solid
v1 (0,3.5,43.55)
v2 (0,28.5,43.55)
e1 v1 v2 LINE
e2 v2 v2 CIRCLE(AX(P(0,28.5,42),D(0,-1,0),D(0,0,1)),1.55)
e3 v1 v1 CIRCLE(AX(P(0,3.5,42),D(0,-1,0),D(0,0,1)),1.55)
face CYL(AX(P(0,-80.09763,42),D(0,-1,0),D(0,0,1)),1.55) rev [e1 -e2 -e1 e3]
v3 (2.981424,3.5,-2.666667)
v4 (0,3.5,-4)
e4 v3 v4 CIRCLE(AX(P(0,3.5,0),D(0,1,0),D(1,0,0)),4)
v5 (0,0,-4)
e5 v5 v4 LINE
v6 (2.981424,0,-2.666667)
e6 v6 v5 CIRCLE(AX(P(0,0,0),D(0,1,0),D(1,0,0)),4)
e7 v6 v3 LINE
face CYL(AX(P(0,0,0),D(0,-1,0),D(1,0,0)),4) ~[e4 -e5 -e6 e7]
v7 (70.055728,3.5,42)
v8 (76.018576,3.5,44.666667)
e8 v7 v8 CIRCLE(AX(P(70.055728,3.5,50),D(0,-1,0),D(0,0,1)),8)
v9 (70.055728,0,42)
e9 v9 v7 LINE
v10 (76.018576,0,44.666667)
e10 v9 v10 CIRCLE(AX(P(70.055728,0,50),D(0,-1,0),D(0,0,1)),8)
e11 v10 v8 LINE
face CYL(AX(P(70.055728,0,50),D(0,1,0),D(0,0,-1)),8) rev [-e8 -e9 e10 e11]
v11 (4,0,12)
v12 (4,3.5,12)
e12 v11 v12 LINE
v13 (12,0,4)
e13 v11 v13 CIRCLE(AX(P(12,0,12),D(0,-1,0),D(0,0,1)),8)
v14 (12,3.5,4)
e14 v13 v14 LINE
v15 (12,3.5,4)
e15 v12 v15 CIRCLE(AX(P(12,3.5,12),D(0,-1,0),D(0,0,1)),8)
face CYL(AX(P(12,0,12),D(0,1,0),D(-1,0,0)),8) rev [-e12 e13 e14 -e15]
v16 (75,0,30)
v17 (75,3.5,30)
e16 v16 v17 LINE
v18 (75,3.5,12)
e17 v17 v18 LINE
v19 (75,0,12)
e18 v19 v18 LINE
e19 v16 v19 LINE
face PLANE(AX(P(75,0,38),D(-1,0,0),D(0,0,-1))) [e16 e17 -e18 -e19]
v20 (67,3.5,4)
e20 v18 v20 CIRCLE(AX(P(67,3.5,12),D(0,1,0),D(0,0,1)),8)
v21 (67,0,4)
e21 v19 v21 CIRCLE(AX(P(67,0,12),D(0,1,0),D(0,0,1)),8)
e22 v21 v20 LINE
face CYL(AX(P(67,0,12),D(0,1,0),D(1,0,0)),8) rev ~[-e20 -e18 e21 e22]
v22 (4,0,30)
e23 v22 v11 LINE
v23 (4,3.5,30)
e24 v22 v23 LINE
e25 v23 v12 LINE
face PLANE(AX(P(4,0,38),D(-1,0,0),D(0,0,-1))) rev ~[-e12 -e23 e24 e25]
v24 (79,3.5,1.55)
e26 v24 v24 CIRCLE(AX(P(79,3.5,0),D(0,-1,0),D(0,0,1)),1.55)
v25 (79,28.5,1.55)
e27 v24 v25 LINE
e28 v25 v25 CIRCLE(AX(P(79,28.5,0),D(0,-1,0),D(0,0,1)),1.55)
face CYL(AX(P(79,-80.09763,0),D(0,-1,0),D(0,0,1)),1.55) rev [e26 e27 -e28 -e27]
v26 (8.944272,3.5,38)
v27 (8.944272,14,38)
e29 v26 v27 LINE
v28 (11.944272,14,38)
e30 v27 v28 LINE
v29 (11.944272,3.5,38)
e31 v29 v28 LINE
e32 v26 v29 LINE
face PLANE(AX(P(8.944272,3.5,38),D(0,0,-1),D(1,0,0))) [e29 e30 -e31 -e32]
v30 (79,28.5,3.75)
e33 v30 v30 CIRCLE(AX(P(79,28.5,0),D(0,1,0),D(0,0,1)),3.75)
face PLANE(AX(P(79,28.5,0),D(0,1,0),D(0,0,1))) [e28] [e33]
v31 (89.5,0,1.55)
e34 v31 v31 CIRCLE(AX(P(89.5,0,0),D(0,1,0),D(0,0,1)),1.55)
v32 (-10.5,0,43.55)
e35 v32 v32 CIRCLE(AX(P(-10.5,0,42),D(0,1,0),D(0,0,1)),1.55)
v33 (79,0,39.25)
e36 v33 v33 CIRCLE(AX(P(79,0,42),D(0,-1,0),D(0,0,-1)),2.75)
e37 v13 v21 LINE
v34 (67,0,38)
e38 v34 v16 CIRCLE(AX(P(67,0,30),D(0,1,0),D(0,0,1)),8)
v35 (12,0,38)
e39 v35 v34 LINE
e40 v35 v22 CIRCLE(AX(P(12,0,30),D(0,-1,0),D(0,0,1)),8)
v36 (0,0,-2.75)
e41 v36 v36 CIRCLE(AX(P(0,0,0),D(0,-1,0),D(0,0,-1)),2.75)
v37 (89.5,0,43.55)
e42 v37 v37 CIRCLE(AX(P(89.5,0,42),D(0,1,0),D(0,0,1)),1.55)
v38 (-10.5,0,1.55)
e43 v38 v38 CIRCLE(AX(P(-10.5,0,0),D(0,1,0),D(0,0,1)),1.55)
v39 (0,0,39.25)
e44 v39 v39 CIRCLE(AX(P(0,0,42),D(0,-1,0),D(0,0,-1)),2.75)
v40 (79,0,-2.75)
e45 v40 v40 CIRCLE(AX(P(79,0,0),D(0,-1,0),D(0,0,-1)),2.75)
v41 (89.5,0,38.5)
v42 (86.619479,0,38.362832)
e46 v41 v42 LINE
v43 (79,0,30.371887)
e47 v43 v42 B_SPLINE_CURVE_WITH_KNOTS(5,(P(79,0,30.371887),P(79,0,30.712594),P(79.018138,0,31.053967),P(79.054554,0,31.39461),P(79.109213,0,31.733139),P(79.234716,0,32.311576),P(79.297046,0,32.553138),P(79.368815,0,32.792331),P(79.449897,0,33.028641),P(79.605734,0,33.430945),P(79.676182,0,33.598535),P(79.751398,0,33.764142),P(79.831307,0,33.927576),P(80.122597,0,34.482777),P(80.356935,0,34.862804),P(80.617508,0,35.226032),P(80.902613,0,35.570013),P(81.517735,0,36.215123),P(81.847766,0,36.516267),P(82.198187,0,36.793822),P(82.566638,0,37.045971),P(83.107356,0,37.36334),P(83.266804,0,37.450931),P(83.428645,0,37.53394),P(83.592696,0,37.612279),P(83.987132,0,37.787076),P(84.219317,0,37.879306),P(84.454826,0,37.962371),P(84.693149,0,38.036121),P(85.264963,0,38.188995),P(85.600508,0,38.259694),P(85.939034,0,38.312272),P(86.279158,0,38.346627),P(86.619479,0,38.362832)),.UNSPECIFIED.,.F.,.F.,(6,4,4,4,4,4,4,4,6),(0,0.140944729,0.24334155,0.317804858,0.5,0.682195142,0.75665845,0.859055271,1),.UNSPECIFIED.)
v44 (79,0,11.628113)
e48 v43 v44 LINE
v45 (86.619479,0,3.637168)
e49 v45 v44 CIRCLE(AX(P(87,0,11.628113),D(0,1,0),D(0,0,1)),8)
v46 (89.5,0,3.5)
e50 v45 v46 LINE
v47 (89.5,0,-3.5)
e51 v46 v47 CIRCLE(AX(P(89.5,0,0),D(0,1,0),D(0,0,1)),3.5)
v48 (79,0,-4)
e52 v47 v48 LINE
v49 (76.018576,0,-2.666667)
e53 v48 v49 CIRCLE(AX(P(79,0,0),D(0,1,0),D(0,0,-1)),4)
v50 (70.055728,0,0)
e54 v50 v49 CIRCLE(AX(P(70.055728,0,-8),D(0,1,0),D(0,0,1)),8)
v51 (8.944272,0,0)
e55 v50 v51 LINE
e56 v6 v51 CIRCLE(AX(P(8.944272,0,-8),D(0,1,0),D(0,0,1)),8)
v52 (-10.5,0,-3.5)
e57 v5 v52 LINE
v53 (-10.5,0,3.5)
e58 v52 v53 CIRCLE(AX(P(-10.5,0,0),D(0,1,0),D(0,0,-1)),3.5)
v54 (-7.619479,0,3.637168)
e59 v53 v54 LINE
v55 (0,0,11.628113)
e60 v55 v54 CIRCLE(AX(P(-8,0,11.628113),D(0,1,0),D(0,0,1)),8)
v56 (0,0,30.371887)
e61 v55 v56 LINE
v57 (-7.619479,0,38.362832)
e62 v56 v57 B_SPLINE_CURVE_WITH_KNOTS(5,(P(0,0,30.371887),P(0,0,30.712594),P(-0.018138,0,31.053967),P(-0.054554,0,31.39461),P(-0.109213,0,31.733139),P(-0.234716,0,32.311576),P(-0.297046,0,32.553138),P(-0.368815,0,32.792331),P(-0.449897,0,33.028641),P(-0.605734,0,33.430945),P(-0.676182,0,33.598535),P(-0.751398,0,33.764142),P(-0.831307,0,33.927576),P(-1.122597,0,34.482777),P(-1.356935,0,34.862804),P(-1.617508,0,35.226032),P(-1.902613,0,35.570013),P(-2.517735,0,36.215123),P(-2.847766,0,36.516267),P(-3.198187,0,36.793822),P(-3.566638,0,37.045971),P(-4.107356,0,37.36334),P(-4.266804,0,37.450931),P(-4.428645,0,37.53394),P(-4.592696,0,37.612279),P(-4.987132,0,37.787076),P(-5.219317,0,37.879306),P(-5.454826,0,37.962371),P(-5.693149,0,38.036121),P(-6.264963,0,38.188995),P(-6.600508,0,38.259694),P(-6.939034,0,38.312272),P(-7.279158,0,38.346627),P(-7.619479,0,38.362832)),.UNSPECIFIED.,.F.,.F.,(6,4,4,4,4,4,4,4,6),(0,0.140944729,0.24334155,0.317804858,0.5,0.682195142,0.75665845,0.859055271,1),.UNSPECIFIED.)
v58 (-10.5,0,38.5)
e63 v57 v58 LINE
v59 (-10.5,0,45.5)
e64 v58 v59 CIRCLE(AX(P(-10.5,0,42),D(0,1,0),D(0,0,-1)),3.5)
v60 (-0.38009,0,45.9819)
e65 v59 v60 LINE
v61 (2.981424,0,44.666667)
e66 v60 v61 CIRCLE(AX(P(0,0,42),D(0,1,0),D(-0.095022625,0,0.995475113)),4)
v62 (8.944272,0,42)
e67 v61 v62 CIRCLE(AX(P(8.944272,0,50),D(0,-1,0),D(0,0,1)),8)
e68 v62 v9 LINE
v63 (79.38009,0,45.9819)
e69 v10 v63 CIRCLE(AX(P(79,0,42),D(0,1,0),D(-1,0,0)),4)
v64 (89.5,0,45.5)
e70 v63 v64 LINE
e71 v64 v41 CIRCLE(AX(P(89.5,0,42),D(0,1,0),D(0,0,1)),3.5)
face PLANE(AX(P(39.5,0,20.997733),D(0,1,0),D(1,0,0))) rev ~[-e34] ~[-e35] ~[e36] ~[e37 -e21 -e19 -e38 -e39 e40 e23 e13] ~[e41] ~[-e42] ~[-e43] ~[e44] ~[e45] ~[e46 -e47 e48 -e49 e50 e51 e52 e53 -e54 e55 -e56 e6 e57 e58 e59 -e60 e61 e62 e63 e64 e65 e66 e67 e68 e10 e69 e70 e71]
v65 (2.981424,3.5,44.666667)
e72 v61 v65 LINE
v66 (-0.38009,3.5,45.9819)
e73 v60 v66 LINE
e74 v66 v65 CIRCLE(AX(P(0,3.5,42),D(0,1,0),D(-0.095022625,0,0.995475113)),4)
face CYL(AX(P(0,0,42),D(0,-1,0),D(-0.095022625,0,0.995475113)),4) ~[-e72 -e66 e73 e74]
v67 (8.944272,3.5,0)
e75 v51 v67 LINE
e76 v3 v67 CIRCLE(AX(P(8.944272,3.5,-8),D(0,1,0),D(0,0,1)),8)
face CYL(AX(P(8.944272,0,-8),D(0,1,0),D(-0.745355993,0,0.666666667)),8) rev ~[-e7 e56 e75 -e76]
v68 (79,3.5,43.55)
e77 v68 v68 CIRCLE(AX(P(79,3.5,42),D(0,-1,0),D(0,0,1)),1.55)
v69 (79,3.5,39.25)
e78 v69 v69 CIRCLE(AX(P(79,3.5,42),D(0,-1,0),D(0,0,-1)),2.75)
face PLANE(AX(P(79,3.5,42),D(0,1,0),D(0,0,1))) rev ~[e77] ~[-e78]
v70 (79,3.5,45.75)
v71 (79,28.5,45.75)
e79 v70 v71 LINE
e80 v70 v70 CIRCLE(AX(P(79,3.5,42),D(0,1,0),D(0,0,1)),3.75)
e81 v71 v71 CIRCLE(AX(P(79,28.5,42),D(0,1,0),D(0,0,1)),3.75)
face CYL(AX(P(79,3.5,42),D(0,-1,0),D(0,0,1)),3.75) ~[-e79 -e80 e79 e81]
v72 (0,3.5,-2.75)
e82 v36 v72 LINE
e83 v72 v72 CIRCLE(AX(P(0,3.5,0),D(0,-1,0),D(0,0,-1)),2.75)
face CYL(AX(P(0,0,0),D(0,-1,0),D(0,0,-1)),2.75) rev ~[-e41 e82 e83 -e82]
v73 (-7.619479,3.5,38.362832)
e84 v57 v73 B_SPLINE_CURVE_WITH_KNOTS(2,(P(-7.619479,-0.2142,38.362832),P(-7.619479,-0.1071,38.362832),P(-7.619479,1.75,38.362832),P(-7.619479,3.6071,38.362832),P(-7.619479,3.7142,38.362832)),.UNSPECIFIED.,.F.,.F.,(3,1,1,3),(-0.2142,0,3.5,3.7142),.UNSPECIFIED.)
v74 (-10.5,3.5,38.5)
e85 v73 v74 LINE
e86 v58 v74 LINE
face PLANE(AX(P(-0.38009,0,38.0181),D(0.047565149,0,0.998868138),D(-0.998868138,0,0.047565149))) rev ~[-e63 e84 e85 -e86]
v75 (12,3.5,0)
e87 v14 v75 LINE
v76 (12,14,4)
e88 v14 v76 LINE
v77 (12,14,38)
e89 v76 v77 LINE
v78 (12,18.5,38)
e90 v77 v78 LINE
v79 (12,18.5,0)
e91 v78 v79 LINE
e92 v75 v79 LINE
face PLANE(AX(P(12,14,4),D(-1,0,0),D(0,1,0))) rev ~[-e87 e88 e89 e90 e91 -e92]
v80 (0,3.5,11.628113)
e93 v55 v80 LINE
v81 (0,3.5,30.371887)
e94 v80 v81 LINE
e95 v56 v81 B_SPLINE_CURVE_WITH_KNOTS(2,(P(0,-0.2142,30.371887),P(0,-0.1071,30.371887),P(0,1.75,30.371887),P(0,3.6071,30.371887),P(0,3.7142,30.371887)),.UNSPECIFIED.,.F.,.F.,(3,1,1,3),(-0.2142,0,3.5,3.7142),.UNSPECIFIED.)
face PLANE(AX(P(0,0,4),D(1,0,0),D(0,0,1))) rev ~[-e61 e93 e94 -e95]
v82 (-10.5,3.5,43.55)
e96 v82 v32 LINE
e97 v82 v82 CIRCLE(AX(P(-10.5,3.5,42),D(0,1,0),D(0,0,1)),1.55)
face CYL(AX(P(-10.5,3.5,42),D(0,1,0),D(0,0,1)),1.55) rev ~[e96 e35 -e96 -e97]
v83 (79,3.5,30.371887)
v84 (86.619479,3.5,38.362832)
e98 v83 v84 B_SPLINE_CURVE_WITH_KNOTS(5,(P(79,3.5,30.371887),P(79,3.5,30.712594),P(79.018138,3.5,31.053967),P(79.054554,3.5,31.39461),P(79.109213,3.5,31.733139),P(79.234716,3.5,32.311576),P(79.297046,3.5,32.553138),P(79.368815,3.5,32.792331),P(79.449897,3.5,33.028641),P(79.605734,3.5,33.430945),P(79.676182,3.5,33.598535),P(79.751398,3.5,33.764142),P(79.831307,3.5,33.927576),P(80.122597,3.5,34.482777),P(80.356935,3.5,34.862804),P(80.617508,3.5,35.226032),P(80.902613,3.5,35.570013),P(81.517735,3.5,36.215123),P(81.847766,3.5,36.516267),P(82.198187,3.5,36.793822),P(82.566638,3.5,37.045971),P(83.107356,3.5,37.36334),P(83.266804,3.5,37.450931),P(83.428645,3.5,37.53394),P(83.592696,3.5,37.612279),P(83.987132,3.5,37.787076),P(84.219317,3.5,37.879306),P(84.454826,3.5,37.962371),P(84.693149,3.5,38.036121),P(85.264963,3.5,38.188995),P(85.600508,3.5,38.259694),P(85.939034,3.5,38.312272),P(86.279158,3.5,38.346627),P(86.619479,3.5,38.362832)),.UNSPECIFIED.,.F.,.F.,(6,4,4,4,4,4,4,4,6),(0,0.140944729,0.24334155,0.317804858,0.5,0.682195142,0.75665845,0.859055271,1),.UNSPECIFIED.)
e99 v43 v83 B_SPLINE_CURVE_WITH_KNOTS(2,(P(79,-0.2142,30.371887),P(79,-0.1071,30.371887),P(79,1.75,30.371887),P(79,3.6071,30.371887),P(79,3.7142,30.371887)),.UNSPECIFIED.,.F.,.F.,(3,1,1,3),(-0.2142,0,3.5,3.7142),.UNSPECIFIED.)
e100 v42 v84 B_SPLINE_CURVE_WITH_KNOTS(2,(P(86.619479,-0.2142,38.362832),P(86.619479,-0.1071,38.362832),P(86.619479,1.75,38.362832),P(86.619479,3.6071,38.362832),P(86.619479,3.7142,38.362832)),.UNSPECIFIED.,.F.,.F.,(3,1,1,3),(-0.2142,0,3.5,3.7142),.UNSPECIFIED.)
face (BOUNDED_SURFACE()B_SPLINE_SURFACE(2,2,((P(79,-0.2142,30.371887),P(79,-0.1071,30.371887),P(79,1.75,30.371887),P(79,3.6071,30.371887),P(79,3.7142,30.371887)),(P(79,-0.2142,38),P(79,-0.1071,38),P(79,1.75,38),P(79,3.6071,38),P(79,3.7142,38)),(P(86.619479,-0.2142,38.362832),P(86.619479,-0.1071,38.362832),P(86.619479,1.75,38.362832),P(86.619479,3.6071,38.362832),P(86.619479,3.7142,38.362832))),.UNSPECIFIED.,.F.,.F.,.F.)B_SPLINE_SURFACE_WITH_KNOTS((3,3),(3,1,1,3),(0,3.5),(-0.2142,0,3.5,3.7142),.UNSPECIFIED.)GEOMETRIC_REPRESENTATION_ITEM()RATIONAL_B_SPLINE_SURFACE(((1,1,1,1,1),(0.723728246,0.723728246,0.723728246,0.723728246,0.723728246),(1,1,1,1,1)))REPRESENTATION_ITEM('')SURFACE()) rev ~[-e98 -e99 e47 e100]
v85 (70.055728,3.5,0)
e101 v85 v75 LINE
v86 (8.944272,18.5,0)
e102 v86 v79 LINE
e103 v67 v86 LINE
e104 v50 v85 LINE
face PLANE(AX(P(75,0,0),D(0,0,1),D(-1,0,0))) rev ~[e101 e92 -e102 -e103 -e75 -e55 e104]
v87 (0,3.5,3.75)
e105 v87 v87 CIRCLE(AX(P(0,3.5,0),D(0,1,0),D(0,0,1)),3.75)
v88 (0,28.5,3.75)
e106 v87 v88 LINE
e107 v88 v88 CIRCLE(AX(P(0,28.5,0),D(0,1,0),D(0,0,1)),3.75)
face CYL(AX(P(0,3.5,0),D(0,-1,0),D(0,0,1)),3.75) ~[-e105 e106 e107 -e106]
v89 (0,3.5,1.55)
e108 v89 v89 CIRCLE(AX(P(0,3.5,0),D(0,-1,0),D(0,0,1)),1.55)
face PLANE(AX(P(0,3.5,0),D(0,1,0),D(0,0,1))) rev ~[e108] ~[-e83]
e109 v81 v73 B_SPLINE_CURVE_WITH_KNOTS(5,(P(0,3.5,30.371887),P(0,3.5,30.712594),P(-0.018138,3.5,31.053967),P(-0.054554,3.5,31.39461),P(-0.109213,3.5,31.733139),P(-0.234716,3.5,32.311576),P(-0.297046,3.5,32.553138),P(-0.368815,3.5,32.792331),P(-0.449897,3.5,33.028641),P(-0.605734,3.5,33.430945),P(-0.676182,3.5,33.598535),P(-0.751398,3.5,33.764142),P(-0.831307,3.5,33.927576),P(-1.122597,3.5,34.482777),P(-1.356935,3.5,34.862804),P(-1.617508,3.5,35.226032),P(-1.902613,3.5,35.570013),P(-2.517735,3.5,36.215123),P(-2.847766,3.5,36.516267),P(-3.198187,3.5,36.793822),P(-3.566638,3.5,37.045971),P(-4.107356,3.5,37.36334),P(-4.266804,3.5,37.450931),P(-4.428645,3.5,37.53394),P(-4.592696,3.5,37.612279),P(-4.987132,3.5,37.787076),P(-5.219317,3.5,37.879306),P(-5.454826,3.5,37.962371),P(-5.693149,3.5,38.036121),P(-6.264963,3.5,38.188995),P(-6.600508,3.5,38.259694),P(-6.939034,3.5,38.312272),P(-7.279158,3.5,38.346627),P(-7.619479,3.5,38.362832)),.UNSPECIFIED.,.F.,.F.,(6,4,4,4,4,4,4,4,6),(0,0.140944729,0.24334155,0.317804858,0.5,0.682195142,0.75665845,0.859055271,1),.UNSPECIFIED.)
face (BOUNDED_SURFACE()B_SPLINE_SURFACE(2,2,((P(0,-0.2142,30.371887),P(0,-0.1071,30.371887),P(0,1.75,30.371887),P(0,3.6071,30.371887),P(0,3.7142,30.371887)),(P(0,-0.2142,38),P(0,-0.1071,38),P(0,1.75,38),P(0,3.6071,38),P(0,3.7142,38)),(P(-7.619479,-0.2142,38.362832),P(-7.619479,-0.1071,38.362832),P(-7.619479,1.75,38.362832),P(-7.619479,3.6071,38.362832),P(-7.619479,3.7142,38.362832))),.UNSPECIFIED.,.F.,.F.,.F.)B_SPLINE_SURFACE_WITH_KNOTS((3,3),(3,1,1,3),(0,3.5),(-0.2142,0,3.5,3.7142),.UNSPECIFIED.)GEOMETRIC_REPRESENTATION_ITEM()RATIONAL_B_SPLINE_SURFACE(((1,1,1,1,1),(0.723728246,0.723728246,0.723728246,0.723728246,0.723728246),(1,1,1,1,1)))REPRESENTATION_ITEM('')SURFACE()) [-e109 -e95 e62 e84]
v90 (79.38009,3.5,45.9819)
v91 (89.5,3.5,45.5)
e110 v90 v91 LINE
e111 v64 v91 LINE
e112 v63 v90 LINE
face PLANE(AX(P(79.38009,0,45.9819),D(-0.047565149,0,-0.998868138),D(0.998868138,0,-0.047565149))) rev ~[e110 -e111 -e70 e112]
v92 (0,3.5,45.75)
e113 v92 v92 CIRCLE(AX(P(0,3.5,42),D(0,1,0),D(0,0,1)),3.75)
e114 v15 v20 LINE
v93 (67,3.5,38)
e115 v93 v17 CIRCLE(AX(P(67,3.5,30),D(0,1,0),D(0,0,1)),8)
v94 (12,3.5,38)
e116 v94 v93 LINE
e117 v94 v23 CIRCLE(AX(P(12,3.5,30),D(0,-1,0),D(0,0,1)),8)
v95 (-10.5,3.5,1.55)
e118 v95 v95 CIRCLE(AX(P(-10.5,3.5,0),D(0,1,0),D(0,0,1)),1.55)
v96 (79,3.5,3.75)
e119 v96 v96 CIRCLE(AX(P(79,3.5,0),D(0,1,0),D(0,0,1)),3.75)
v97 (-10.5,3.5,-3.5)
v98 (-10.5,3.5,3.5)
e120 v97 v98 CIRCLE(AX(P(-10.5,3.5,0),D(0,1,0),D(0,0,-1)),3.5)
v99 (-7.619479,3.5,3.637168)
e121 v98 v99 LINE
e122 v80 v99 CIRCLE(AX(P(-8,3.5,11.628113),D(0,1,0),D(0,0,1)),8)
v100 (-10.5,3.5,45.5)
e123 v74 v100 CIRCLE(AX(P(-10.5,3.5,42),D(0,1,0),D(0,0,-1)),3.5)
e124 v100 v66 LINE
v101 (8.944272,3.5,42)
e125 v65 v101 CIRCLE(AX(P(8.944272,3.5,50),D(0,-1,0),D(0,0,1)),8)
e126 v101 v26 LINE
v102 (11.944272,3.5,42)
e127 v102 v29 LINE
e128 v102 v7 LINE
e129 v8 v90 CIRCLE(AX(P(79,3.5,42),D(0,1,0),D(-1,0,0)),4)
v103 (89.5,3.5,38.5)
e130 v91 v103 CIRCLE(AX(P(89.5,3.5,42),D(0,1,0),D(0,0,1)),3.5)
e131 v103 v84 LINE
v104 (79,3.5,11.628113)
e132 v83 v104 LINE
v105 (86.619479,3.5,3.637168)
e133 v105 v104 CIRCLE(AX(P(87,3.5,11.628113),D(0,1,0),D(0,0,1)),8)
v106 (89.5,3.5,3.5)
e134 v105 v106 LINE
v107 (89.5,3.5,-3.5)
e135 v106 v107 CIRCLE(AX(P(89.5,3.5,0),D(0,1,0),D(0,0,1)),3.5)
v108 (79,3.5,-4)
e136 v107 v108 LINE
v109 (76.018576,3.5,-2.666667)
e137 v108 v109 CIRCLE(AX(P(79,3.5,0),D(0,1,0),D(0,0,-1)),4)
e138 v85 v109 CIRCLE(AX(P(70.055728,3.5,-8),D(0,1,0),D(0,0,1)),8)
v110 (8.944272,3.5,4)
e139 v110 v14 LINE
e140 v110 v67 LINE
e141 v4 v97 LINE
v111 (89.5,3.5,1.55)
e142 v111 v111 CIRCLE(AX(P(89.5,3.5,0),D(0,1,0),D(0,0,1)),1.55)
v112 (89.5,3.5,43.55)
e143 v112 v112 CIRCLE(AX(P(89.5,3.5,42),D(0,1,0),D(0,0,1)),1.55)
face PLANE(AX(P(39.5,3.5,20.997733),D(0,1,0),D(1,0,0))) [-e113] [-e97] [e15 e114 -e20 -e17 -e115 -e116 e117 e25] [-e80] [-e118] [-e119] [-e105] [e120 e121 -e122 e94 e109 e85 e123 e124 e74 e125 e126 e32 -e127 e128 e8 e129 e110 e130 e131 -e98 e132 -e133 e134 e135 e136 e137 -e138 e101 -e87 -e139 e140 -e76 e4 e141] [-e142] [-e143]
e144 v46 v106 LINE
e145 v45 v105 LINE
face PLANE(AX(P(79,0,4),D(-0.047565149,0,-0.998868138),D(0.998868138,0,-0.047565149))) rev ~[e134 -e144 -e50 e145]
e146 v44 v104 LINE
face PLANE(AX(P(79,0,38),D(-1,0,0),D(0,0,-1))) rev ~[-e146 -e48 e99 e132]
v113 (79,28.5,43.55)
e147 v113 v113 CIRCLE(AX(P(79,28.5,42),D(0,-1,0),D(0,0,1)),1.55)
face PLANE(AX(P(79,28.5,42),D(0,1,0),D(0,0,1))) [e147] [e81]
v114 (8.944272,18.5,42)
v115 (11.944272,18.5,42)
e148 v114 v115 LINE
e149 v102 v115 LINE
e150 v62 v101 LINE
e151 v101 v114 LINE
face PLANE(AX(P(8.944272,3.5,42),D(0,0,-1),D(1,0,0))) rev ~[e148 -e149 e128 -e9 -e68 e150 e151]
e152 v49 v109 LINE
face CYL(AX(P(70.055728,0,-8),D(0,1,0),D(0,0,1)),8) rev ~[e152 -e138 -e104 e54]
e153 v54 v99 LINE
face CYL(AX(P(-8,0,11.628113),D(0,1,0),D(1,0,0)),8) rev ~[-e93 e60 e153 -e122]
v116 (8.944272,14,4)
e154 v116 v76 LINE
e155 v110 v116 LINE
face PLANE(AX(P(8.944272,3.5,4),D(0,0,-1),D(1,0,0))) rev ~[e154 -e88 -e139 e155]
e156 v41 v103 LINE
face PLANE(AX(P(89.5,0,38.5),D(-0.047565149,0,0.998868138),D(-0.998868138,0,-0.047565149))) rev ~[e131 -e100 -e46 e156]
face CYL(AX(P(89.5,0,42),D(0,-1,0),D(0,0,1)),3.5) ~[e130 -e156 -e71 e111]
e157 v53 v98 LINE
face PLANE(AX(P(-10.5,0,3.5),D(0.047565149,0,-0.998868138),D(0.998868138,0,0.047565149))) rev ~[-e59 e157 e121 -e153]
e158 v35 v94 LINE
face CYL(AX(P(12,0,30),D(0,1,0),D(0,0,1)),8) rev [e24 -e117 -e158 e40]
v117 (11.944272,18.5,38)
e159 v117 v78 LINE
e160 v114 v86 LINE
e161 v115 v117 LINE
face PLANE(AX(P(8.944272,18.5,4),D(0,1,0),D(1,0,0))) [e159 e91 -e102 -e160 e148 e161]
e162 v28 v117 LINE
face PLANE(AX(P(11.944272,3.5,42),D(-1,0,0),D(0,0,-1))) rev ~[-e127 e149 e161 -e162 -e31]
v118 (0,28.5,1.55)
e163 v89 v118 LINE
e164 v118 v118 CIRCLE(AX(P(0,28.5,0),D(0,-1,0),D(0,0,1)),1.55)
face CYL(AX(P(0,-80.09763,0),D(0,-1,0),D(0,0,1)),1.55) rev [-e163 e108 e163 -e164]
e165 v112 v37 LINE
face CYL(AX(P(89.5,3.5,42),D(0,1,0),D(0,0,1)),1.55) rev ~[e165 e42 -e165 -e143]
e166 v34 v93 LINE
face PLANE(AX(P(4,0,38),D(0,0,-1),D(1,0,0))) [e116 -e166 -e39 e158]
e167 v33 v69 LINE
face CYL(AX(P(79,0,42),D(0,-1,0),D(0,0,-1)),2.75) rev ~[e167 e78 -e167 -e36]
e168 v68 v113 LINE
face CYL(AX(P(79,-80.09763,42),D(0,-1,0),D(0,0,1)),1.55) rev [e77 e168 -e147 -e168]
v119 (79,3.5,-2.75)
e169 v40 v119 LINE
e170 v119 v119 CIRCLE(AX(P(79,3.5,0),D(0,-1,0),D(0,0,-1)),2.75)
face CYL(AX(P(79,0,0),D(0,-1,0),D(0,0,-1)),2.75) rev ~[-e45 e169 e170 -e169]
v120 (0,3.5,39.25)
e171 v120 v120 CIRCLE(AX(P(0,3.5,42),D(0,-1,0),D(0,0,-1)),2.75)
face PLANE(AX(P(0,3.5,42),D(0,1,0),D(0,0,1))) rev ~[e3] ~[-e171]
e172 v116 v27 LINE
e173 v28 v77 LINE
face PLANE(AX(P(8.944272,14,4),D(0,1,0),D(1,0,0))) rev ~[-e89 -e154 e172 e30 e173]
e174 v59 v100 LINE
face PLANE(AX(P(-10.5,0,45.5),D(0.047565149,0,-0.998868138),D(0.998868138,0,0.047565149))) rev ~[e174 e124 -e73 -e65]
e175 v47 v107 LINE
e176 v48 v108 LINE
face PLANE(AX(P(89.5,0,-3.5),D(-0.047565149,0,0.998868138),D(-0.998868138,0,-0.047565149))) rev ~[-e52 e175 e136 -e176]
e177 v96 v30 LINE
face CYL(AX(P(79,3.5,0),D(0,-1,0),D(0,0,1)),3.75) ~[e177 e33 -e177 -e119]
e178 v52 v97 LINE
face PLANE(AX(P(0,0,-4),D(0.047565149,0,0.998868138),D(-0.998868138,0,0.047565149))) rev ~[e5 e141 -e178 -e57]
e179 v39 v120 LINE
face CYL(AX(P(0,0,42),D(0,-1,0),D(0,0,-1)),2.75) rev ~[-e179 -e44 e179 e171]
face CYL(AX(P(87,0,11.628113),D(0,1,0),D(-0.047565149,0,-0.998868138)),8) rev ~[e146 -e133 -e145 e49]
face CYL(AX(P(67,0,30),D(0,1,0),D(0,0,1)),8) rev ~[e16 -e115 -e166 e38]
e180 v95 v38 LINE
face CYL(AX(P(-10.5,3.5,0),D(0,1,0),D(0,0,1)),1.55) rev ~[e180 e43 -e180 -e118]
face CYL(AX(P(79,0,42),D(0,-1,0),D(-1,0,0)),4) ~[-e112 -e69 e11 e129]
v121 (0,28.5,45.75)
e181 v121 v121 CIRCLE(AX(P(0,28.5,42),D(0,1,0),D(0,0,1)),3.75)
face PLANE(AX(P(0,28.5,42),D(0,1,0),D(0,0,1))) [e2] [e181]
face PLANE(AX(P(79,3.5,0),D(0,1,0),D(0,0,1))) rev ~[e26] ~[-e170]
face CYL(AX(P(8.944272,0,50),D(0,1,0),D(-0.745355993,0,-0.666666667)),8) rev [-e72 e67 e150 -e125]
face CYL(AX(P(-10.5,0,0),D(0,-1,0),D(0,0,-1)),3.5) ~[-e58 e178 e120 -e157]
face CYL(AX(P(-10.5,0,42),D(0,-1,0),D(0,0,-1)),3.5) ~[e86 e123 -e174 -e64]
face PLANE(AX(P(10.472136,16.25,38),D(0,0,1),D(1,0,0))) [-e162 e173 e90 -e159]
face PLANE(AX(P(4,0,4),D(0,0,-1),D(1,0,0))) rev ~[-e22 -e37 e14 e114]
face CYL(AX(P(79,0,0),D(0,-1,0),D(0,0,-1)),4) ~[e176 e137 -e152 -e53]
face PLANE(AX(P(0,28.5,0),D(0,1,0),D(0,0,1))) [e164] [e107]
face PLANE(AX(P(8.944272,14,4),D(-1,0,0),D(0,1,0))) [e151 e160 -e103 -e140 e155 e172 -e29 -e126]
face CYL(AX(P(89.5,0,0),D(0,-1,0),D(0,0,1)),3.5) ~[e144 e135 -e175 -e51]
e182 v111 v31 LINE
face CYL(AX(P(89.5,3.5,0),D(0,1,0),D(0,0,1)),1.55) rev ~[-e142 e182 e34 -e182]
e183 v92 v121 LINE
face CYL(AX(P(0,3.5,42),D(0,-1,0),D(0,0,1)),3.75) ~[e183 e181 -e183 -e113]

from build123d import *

# Parameters (mm, degrees)
SKETCH10_W              = 71
SKETCH10_H              = 34
BOSS_EXTRUDE6_DEPTH     = 3.5
SKETCH11_R              = 1.55
CUT_EXTRUDE6_DEPTH      = 3.5
SKETCH12_R              = 2.75
CUT_EXTRUDE7_DEPTH      = 3.5
SKETCH13_R              = 3.75
BOSS_EXTRUDE7_DEPTH     = 25
CUT_EXTRUDE8_DEPTH      = 108.597630085
CUT_EXTRUDE8_DEPTH_BACK = 108.597630085
SKETCH14_R              = 1.55
FILLET6_R               = 8
FILLET7_R               = 8
SKETCH16_W              = 3
SKETCH16_H              = 4
SKETCH16_W_2            = 3.05572809
BOSS_EXTRUDE10_DEPTH    = 15
SKETCH18_W              = 3.05572809
SKETCH18_H              = 4.5
BOSS_EXTRUDE11_DEPTH    = 34


with BuildPart() as part:
    # Sketch10 → Boss-Extrude6 (new body)
    with BuildSketch(Plane(origin=(0, 0, 0), x_dir=(1, 0, 0), z_dir=(0, 1, 0))):
        with BuildLine():
            Line((0, -4), (0, -38))
            ThreePointArc((0, -38), (-0.190260598, -38.004527449), (-0.380090498, -38.018099548))
            Line((-0.380090498, -38.018099548), (-10.5, -38.5))
            ThreePointArc((-10.5, -38.5), (-14, -42), (-10.5, -45.5))
            Line((-10.5, -45.5), (-0.380090498, -45.981900452))
            ThreePointArc((-0.380090498, -45.981900452), (2.690691176, -44.959760294), (4, -42))
            Line((4, -42), (75, -42))
            ThreePointArc((75, -42), (76.309308824, -44.959760294), (79.380090498, -45.981900452))
            Line((79.380090498, -45.981900452), (89.5, -45.5))
            ThreePointArc((89.5, -45.5), (93, -42), (89.5, -38.5))
            Line((89.5, -38.5), (79.380090498, -38.018099548))
            ThreePointArc((79.380090498, -38.018099548), (79.190260598, -38.004527449), (79, -38))
            Line((79, -38), (79, -4))
            Line((79, -4), (89.5, -3.5))
            ThreePointArc((89.5, -3.5), (93, 0), (89.5, 3.5))
            Line((89.5, 3.5), (79, 4))
            ThreePointArc((79, 4), (76.171572875, 2.828427125), (75, 0))
            Line((75, 0), (4, 0))
            ThreePointArc((4, 0), (2.828427125, 2.828427125), (0, 4))
            Line((0, 4), (-10.5, 3.5))
            ThreePointArc((-10.5, 3.5), (-14, 0), (-10.5, -3.5))
            Line((-10.5, -3.5), (0, -4))
        make_face()
        with Locations((39.5, -21)):
            Rectangle(SKETCH10_W, SKETCH10_H, mode=Mode.SUBTRACT)
    extrude(amount=BOSS_EXTRUDE6_DEPTH)

    # Sketch11 → Cut-Extrude6 (cut)
    with BuildSketch(Plane(origin=(0, 3.5, 0), x_dir=(1, 0, 0), z_dir=(0, 1, 0))):
        with Locations(Location((0, 0, 0), (0, 0, 270))):
            Circle(SKETCH11_R)
        with Locations(Location((79, 0, 0), (0, 0, 270))):
            Circle(SKETCH11_R)
        with Locations(Location((79, -42, 0), (0, 0, 270))):
            Circle(SKETCH11_R)
        with Locations(Location((0, -42, 0), (0, 0, 270))):
            Circle(SKETCH11_R)
        with Locations(Location((-10.5, -42, 0), (0, 0, 270))):
            Circle(SKETCH11_R)
        with Locations(Location((-10.5, 0, 0), (0, 0, 270))):
            Circle(SKETCH11_R)
        with Locations(Location((89.5, 0, 0), (0, 0, 270))):
            Circle(SKETCH11_R)
        with Locations(Location((89.5, -42, 0), (0, 0, 270))):
            Circle(SKETCH11_R)
    extrude(amount=-CUT_EXTRUDE6_DEPTH, mode=Mode.SUBTRACT)

    # Sketch12 → Cut-Extrude7 (cut)
    with BuildSketch(Plane.XZ):
        with Locations(Location((0, 42, 0), (0, 0, 270))):
            Circle(SKETCH12_R)
        with Locations(Location((79, 42, 0), (0, 0, 270))):
            Circle(SKETCH12_R)
        with Locations(Location((79, 0, 0), (0, 0, 270))):
            Circle(SKETCH12_R)
        with Locations(Location((0, 0, 0), (0, 0, 270))):
            Circle(SKETCH12_R)
    extrude(amount=-CUT_EXTRUDE7_DEPTH, mode=Mode.SUBTRACT)

    # Sketch13 → Boss-Extrude7 (add)
    with BuildSketch(Plane(origin=(0, 3.5, 0), x_dir=(1, 0, 0), z_dir=(0, 1, 0))):
        with Locations(Location((0, 0, 0), (0, 0, 270))):
            Circle(SKETCH13_R)
        with Locations(Location((79, 0, 0), (0, 0, 270))):
            Circle(SKETCH13_R)
        with Locations(Location((79, -42, 0), (0, 0, 270))):
            Circle(SKETCH13_R)
        with Locations(Location((0, -42, 0), (0, 0, 270))):
            Circle(SKETCH13_R)
    extrude(amount=BOSS_EXTRUDE7_DEPTH)

    # Sketch14 → Cut-Extrude8 (cut, two sides: drawn at the far end of the back side and taken through both)
    with BuildSketch(Plane(origin=(0, 28.5, 0), x_dir=(1, 0, 0), z_dir=(0, 1, 0)).offset(-CUT_EXTRUDE8_DEPTH_BACK)):
        with Locations(Location((0, 0, 0), (0, 0, 270))):
            Circle(SKETCH14_R)
        with Locations(Location((79, 0, 0), (0, 0, 270))):
            Circle(SKETCH14_R)
        with Locations(Location((79, -42, 0), (0, 0, 270))):
            Circle(SKETCH14_R)
        with Locations(Location((0, -42, 0), (0, 0, 270))):
            Circle(SKETCH14_R)
    extrude(amount=CUT_EXTRUDE8_DEPTH + CUT_EXTRUDE8_DEPTH_BACK, mode=Mode.SUBTRACT)

    # Fillet6
    fillet6_edges = [part.edges().sort_by_distance(p)[0] for p in [
        (75, 1.75, 0),
        (4, 1.75, 0),
        (4, 1.75, 42),
        (75, 1.75, 42),
        (79, 1.75, 38),
        (79, 1.75, 4),
        (0, 1.75, 38),
        (0, 1.75, 4),
    ]]
    fillet(fillet6_edges, radius=FILLET6_R)

    # Fillet7
    fillet7_edges = [part.edges().sort_by_distance(p)[0] for p in [
        (75, 1.75, 38),
        (4, 1.75, 38),
        (4, 1.75, 4),
        (75, 1.75, 4),
    ]]
    fillet(fillet7_edges, radius=FILLET7_R)

    # Sketch16 → Boss-Extrude10 (add)
    with BuildSketch(Plane(origin=(0, 3.5, 0), x_dir=(1, 0, 0), z_dir=(0, 1, 0))):
        with Locations((10.44427191, -40)):
            Rectangle(SKETCH16_W, SKETCH16_H)
        with Locations((10.472135955, -2)):
            Rectangle(SKETCH16_W_2, SKETCH16_H)
    extrude(amount=BOSS_EXTRUDE10_DEPTH)

    # Sketch18 → Boss-Extrude11 (add)
    with BuildSketch(Plane.XY.offset(4)):
        with Locations((10.472135955, 16.25)):
            Rectangle(SKETCH18_W, SKETCH18_H)
    extrude(amount=BOSS_EXTRUDE11_DEPTH)


solid = part.part
